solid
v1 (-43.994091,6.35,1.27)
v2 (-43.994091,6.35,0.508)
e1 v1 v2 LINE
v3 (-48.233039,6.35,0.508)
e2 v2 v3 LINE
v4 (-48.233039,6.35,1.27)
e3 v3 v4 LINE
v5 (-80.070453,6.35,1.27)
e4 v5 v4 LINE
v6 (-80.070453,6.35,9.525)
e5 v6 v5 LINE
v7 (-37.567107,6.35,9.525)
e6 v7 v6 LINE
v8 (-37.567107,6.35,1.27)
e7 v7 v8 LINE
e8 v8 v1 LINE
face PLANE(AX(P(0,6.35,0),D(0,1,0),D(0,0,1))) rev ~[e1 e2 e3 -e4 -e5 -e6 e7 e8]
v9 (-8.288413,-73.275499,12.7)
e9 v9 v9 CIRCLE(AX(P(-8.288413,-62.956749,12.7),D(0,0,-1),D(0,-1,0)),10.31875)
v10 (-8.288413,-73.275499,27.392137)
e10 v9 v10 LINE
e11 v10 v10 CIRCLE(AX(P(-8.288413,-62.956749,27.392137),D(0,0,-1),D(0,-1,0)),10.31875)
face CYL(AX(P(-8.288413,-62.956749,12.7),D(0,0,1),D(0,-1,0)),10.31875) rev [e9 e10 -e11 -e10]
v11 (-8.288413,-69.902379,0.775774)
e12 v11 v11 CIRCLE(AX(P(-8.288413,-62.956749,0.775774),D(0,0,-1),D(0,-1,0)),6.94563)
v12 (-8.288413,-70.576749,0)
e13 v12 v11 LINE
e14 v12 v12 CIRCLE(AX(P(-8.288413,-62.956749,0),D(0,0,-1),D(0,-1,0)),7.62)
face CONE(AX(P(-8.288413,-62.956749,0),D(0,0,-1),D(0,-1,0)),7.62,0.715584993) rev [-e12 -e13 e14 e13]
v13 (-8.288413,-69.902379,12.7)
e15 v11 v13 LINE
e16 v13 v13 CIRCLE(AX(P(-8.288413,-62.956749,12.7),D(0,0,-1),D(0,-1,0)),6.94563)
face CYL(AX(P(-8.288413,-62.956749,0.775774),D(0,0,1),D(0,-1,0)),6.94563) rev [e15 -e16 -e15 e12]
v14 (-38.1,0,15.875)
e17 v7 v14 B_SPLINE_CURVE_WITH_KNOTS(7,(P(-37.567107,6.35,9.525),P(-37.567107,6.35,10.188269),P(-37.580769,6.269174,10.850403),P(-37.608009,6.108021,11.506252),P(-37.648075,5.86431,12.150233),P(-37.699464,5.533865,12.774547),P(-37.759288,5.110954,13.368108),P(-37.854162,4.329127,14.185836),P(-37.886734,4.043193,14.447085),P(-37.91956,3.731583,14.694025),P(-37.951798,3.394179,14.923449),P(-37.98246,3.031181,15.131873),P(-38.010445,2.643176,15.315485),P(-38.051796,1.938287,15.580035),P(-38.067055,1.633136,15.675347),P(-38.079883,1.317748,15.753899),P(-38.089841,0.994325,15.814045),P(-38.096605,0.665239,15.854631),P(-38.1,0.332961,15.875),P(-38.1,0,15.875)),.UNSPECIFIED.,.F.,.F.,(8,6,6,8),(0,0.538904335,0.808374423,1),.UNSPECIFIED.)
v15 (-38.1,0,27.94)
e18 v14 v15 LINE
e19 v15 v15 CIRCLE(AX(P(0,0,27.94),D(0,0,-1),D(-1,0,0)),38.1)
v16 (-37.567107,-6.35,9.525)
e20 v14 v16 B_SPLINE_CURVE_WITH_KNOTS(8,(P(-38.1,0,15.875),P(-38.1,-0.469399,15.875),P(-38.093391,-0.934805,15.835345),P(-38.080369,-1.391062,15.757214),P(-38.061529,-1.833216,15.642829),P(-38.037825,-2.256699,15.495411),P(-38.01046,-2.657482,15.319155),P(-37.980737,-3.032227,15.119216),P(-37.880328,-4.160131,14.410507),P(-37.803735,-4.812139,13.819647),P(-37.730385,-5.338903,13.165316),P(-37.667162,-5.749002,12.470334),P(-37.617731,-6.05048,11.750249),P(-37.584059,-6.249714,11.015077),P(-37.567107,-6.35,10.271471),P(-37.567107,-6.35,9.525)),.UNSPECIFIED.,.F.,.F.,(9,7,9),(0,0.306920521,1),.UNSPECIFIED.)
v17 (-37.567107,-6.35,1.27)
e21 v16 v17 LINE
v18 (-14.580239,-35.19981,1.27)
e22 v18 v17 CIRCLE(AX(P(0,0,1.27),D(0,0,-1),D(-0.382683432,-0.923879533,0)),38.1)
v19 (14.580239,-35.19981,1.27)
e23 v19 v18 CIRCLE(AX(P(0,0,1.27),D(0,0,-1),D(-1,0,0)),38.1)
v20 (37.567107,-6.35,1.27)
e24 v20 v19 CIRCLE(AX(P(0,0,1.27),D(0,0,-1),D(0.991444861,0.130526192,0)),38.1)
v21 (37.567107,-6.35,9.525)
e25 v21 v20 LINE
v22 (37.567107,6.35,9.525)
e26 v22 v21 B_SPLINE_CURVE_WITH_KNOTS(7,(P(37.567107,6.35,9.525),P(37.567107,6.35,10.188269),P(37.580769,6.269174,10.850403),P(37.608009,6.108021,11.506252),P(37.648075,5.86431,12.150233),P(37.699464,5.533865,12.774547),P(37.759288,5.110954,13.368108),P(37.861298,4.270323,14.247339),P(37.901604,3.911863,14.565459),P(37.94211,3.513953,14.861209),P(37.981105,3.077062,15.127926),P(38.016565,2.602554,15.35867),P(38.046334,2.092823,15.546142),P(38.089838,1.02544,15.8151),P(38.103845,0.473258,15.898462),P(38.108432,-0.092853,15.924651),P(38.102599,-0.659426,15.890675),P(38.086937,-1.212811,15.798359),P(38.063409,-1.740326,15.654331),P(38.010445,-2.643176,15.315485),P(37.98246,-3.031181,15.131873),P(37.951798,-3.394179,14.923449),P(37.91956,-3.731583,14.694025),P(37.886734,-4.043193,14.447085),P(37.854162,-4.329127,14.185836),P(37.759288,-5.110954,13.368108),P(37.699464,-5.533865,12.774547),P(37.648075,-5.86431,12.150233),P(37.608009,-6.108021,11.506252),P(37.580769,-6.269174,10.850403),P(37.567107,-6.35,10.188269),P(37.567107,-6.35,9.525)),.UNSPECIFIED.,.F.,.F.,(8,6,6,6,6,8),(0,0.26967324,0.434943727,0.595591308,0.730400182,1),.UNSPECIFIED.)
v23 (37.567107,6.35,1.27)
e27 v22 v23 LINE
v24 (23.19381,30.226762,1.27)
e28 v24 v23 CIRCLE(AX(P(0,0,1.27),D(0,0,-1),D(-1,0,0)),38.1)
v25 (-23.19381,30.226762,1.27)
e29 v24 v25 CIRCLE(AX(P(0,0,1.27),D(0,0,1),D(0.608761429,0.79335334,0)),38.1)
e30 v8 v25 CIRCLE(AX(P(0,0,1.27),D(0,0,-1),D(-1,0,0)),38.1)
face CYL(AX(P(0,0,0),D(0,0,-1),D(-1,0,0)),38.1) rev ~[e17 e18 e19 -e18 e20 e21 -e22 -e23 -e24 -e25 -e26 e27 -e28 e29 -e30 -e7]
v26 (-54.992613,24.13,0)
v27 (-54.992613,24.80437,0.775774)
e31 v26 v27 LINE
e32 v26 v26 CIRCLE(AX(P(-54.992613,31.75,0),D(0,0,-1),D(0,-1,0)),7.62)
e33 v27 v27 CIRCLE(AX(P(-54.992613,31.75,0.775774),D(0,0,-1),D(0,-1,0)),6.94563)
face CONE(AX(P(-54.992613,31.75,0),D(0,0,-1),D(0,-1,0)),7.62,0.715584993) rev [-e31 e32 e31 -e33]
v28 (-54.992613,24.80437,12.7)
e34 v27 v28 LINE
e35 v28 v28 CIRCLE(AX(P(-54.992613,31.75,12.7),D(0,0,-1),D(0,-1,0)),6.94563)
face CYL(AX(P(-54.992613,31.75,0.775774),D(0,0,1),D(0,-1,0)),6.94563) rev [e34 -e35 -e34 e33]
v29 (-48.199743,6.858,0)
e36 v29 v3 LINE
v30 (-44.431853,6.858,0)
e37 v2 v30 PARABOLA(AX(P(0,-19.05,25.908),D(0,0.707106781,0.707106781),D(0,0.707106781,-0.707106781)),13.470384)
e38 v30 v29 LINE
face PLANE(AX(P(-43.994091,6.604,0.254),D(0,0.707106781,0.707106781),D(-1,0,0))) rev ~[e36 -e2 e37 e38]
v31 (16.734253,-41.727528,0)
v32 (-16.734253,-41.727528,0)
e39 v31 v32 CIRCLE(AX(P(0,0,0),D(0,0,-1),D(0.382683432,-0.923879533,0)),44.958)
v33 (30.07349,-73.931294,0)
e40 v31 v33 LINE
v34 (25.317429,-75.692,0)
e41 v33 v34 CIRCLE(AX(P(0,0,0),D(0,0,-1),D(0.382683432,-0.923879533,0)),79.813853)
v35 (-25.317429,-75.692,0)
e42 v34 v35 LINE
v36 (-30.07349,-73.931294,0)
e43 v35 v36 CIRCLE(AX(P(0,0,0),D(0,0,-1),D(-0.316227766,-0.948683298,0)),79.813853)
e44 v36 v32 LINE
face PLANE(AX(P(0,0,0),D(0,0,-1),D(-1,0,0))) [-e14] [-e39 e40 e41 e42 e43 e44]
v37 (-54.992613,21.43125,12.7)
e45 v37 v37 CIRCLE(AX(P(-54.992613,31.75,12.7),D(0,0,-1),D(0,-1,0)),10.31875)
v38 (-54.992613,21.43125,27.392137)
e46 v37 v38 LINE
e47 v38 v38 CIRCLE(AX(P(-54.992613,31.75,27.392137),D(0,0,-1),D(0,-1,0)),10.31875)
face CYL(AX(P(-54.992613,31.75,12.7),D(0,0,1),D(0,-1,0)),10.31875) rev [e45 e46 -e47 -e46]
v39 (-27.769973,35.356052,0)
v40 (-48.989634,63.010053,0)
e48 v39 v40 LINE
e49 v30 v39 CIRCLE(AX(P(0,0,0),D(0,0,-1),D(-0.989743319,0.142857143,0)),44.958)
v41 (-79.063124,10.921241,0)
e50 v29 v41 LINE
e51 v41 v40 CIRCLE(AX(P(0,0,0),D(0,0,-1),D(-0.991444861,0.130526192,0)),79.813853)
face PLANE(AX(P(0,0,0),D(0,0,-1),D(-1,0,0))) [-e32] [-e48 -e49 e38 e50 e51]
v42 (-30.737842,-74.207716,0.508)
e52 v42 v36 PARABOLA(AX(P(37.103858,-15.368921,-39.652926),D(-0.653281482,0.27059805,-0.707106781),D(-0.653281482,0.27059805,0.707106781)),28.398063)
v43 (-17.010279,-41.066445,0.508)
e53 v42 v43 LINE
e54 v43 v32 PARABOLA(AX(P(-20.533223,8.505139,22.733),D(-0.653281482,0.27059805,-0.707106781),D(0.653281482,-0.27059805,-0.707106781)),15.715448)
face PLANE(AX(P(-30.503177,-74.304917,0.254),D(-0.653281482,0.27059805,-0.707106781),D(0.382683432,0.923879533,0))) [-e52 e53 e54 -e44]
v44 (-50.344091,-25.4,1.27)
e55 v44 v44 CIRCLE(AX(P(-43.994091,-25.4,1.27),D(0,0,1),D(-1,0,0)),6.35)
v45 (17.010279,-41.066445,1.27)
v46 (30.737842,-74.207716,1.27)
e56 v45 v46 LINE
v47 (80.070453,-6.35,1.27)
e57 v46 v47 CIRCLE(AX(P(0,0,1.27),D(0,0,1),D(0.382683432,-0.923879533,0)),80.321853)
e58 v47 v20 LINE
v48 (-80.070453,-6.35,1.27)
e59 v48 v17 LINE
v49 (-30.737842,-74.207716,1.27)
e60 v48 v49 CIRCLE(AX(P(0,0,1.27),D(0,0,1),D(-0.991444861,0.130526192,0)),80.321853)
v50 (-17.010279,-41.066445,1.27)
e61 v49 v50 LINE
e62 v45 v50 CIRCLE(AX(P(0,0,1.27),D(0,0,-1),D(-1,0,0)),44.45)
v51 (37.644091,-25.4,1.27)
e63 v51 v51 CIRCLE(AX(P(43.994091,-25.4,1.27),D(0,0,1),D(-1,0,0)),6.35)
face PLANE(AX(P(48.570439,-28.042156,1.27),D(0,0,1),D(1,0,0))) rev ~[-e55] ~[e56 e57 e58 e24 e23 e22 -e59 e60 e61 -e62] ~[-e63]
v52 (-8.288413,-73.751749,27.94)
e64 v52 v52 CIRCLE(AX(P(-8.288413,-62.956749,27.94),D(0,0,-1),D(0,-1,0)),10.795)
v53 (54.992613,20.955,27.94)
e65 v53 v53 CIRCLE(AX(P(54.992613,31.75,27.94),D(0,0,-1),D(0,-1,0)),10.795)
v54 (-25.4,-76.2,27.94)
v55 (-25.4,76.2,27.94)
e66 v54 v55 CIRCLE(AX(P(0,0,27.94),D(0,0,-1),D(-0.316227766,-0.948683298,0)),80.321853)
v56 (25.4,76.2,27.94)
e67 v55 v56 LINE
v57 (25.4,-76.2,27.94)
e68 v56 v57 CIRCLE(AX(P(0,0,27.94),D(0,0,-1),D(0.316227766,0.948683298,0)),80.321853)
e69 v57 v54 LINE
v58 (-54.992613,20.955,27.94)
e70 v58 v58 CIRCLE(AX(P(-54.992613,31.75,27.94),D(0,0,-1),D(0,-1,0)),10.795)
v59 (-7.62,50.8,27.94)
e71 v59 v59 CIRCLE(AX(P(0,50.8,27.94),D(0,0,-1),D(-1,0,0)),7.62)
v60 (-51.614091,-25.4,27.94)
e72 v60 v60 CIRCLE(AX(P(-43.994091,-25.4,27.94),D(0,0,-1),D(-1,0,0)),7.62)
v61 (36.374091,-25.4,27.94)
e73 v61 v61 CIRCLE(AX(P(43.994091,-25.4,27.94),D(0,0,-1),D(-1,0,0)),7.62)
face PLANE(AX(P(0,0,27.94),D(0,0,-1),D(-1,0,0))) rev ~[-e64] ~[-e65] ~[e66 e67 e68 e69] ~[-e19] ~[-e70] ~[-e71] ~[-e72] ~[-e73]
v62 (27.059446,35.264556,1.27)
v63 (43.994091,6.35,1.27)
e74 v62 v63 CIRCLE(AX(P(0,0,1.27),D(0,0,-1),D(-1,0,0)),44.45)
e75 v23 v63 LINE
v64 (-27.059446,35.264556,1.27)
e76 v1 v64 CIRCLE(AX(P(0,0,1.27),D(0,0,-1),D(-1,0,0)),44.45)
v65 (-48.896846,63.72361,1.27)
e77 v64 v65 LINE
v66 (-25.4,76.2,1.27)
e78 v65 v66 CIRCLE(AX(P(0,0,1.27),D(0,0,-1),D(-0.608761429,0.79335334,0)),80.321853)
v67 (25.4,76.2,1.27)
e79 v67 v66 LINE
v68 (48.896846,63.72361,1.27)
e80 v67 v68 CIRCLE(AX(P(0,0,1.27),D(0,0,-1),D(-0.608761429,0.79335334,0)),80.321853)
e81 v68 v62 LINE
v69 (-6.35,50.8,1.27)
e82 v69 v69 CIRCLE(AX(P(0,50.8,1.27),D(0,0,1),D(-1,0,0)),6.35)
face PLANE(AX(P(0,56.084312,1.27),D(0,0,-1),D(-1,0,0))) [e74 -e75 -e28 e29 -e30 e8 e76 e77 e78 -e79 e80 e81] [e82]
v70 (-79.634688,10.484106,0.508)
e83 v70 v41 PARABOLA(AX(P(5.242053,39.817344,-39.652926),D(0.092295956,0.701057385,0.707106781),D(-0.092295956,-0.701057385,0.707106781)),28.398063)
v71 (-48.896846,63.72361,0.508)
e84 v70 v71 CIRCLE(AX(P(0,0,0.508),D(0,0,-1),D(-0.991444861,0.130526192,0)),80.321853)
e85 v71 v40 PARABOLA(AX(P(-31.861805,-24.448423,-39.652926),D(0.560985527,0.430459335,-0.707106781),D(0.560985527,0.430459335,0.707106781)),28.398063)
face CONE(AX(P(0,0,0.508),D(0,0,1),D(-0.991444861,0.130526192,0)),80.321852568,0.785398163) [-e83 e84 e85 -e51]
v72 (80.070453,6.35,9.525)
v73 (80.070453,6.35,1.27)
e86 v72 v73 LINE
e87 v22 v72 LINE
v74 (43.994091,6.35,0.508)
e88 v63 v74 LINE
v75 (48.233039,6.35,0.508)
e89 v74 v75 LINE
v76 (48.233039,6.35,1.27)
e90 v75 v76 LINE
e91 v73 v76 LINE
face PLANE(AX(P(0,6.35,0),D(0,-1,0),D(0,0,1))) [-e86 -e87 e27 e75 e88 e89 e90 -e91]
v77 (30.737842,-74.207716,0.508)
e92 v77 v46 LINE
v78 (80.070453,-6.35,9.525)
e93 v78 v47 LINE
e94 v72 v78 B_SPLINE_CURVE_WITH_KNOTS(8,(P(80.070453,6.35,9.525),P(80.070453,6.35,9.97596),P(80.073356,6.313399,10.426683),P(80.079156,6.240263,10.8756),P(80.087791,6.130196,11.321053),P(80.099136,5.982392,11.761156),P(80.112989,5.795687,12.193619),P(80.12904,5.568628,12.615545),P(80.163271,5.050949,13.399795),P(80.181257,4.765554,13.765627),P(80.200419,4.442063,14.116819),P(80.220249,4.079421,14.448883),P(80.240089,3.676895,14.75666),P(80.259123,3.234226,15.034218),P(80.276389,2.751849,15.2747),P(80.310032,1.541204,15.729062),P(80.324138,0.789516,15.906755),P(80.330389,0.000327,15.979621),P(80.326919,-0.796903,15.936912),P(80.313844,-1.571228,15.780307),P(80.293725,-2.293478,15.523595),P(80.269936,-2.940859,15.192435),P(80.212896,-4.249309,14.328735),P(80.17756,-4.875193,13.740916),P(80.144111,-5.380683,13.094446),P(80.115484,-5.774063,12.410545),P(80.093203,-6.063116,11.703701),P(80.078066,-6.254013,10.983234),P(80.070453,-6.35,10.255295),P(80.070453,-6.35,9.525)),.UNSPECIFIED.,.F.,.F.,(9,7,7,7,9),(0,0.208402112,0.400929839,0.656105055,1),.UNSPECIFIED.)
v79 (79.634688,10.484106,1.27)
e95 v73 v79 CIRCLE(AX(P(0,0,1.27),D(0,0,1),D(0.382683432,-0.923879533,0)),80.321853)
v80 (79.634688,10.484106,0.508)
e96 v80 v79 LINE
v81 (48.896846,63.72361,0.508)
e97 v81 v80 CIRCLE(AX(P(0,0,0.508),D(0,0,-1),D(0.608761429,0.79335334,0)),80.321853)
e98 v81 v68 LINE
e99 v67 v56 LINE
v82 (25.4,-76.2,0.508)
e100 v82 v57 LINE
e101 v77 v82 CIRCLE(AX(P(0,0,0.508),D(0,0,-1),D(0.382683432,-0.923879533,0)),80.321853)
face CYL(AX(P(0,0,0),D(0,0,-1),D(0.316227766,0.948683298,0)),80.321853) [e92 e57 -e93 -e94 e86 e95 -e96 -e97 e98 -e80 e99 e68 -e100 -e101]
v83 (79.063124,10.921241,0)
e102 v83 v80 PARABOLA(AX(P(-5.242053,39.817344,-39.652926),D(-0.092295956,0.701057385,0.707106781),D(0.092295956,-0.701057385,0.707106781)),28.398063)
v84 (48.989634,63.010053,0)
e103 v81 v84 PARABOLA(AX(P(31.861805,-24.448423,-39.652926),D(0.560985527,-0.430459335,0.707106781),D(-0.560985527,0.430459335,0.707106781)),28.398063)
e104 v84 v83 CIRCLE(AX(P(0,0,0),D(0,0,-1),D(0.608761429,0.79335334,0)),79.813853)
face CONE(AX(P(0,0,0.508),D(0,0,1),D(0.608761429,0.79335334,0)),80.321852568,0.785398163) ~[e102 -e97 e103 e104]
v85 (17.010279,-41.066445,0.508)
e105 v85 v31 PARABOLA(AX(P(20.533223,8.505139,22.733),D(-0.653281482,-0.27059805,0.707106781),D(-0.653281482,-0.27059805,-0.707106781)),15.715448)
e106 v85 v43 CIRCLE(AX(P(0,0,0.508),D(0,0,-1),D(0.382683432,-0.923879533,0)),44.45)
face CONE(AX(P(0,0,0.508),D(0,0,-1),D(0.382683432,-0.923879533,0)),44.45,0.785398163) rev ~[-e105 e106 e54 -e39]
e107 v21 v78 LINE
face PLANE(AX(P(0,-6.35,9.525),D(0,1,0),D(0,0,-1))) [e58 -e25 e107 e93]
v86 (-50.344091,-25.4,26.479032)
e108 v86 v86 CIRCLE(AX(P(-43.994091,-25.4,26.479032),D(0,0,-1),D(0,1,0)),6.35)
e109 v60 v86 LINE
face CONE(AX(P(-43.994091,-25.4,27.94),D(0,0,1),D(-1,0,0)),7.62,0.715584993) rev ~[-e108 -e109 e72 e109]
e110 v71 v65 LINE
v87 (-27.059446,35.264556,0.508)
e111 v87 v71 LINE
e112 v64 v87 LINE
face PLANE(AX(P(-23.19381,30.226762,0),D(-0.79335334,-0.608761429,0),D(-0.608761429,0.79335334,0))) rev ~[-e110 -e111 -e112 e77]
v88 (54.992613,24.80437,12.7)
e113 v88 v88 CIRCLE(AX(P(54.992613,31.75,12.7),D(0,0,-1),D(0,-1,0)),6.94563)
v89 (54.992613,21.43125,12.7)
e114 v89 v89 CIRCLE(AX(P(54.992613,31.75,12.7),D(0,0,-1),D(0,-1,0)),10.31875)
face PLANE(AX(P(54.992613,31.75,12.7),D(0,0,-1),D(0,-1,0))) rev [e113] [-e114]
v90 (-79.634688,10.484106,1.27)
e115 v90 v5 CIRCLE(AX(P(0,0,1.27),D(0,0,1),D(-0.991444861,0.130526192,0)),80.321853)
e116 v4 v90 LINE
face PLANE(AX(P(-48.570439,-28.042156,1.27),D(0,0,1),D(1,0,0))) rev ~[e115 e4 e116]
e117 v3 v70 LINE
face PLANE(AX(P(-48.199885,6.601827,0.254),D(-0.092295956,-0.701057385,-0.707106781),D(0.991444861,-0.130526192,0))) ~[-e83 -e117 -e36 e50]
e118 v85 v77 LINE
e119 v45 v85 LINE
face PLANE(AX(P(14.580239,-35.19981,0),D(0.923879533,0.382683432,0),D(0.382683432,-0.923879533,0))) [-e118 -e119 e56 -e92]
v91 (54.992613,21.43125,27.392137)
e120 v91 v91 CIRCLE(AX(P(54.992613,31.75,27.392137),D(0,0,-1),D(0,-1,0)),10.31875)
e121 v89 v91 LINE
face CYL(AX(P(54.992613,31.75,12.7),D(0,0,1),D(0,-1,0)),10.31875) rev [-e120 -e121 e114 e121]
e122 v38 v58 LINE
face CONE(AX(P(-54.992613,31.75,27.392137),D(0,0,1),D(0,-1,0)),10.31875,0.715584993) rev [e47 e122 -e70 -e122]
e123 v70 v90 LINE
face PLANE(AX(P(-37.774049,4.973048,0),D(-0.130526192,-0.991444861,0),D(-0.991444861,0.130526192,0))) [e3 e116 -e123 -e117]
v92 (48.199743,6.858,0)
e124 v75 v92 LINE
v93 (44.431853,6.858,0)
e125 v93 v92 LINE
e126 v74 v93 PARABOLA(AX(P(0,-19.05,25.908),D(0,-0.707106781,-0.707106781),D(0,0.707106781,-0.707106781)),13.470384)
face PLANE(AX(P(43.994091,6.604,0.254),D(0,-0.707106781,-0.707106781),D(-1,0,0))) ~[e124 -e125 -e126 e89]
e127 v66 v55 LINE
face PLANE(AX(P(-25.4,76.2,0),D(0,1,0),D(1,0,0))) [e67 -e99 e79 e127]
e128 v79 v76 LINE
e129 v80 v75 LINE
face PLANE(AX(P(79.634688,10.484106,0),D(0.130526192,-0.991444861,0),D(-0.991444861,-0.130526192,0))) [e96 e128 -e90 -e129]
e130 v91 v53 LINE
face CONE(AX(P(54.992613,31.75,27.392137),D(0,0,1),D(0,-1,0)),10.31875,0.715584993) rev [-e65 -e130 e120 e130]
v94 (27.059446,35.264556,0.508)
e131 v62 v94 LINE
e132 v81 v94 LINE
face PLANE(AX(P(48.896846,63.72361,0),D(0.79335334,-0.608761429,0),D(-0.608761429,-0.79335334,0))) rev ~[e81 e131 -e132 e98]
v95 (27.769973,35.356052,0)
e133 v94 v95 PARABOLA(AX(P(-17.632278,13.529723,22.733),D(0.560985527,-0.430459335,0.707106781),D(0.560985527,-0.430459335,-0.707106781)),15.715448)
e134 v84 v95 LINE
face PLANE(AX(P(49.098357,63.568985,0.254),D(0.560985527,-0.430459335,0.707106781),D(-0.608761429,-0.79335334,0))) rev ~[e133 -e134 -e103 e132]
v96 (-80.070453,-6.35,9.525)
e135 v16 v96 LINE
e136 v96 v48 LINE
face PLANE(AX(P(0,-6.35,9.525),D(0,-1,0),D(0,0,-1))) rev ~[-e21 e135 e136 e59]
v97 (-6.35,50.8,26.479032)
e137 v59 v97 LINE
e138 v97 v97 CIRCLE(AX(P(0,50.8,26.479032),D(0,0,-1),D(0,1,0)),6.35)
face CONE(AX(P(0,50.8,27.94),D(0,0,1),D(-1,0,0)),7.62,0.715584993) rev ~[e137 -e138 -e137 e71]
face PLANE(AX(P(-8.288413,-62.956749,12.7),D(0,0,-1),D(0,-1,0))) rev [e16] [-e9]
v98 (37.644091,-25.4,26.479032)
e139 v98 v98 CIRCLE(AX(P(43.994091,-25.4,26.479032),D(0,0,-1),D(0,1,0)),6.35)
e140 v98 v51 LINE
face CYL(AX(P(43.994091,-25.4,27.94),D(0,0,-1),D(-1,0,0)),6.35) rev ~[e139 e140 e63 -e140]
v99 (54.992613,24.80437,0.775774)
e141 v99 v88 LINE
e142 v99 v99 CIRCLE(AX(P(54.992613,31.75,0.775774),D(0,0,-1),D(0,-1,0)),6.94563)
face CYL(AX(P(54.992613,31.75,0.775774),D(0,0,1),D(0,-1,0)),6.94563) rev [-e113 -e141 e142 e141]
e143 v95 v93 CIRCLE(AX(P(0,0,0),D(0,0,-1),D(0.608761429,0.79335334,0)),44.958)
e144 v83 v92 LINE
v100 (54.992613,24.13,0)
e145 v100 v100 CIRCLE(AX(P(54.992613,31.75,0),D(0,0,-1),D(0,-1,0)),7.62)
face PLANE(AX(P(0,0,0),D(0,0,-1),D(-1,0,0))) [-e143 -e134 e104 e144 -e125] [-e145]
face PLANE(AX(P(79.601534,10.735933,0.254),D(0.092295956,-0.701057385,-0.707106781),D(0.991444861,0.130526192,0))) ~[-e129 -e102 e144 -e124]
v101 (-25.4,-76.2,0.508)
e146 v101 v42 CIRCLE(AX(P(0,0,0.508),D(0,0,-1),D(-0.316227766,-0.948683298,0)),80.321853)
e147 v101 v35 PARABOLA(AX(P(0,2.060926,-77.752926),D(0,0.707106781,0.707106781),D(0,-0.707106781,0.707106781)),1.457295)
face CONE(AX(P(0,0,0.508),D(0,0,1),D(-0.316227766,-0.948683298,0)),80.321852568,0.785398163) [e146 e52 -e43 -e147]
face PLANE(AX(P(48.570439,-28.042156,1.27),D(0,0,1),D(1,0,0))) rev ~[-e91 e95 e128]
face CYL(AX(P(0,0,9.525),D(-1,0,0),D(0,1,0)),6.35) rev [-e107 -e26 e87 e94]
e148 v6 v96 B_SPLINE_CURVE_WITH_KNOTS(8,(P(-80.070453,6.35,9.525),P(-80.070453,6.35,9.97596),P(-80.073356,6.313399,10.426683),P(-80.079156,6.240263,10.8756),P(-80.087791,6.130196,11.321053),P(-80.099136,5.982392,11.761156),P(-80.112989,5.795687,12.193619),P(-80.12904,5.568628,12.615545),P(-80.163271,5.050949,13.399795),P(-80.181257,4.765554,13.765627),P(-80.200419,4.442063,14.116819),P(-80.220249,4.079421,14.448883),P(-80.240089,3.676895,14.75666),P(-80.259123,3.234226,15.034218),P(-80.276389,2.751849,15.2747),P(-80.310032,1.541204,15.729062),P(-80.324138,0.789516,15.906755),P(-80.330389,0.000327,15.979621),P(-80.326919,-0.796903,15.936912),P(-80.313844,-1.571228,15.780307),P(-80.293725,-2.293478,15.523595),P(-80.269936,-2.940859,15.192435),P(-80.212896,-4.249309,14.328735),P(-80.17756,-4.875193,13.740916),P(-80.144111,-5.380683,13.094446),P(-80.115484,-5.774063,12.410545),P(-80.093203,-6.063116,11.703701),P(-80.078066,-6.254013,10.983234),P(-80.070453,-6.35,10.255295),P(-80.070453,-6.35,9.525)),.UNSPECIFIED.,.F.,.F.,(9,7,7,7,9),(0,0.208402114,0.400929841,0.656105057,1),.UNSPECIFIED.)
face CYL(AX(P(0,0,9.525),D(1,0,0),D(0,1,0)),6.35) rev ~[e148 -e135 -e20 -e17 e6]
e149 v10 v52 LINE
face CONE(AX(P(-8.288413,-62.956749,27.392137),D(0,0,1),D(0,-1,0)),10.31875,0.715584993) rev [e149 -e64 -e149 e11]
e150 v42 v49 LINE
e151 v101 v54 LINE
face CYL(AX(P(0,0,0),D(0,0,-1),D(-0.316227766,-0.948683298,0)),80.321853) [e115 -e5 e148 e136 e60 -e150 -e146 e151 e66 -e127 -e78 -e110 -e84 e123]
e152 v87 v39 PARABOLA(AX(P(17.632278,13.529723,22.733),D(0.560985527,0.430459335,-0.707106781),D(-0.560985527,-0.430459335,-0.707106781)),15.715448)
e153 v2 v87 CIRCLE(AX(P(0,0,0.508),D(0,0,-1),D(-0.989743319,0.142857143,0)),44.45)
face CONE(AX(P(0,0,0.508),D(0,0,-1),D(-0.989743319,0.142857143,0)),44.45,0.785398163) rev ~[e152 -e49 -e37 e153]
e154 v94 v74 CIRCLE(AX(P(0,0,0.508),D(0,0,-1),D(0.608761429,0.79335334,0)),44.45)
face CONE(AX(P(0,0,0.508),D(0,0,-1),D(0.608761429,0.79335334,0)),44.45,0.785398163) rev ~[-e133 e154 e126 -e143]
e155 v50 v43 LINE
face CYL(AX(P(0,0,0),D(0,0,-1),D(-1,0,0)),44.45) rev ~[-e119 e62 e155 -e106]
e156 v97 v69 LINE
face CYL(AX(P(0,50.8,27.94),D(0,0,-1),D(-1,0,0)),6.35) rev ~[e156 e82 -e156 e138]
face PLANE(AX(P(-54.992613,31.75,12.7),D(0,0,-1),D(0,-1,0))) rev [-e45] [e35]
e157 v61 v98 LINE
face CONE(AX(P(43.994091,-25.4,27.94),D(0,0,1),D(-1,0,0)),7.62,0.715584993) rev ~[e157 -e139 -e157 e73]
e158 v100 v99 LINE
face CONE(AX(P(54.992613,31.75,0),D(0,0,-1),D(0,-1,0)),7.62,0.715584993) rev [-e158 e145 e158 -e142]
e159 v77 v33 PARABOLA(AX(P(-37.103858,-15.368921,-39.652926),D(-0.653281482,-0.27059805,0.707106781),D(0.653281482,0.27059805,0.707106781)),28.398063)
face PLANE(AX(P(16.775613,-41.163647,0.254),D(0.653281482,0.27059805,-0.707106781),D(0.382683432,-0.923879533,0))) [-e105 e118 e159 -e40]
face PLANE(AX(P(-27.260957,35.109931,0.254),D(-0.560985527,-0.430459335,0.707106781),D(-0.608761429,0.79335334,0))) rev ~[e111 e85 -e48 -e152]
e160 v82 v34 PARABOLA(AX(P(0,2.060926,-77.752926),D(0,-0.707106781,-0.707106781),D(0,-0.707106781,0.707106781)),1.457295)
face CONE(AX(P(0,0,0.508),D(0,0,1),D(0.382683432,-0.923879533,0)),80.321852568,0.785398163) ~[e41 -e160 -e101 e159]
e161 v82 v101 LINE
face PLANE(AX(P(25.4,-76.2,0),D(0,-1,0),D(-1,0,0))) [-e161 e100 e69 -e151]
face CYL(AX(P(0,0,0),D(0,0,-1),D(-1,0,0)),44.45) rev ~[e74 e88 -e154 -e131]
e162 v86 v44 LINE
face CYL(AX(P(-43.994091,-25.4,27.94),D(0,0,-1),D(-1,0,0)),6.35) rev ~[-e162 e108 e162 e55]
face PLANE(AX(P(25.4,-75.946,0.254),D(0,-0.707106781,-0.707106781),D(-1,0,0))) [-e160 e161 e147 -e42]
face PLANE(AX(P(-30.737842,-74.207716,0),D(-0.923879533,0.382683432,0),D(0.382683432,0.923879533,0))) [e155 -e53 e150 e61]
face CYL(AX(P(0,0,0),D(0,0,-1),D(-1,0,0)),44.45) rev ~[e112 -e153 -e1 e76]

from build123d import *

# Parameters (mm, degrees)
EXTRUDE1_DEPTH                                = 27.94
CBORE_FOR_1_2_SOCKET_HEAD_CAP_SCREW1_AT_COUNT = 2
CBORE_FOR_1_2_SOCKET_HEAD_CAP_SCREW1_AT_PITCH = 109.985226281
CBORE_FOR_1_2_SOCKET_HEAD_CAP_SCREW1_2_COUNT  = 2
CBORE_FOR_1_2_SOCKET_HEAD_CAP_SCREW1_2_PITCH  = 105.596640762
SKETCH6_R                                     = 38.1
CUT_EXTRUDE1_DEPTH                            = 28.94
CUT_EXTRUDE3_DEPTH                            = 81.321852568
CUT_EXTRUDE3_DEPTH_BACK                       = 81.321852568
CUT_EXTRUDE2_DEPTH                            = 1.27
F_1_2_20_TAPPED_HOLE1_D                       = 12.7
F_1_2_20_TAPPED_HOLE1_CSINK_D                 = 15.24
F_1_2_20_TAPPED_HOLE1_CSINK_ANGLE             = 82
SKETCH11_R                                    = 44.45
CUT_EXTRUDE4_DEPTH                            = 1.27
CHAMFER1_SIZE                                 = 0.508


with BuildPart() as part:
    # Sketch1 → Extrude1 (new body)
    with BuildSketch(Plane.XY):
        with BuildLine():
            Line((-25.4, 76.2), (25.4, 76.2))
            ThreePointArc((25.4, 76.2), (80.321852568, 0), (25.4, -76.2))
            Line((25.4, -76.2), (-25.4, -76.2))
            ThreePointArc((-25.4, -76.2), (-80.321852568, 0), (-25.4, 76.2))
        make_face()
    extrude(amount=EXTRUDE1_DEPTH)

    # Sketch3 → CBORE for 1_2 Socket Head Cap Screw1 (revolve, cut)
    with BuildSketch(Plane(origin=(-54.99261314, 31.75, 27.94), x_dir=(0, -1, 0), z_dir=(1, 0, 0))):
        Polygon((0, 0), (0, 27.94), (7.62, 27.94), (6.94563, 27.164226057), (6.94563, 15.24), (10.31875, 15.24), (10.31875, 0.547862954), (10.795, 0), align=None)
    cbore_for_1_2_socket_head_cap_screw1 = revolve(axis=Axis((-54.99261314, 31.75, 34.29), (0, 0, -1)), mode=Mode.SUBTRACT)

    # CBORE for 1_2 Socket Head Cap Screw1 at: CBORE for 1_2 Socket Head Cap Screw1 ×2
    with Locations(*[(i * CBORE_FOR_1_2_SOCKET_HEAD_CAP_SCREW1_AT_PITCH, 0, 0) for i in range(1, CBORE_FOR_1_2_SOCKET_HEAD_CAP_SCREW1_AT_COUNT)]):
        add(cbore_for_1_2_socket_head_cap_screw1, mode=Mode.SUBTRACT)

    # CBORE for 1_2 Socket Head Cap Screw1 2: CBORE for 1_2 Socket Head Cap Screw1 ×2
    with Locations(*[Vector(0.44228869, -0.896872742, 0) * (i * CBORE_FOR_1_2_SOCKET_HEAD_CAP_SCREW1_2_PITCH) for i in range(1, CBORE_FOR_1_2_SOCKET_HEAD_CAP_SCREW1_2_COUNT)]):
        add(cbore_for_1_2_socket_head_cap_screw1, mode=Mode.SUBTRACT)

    # Sketch6 → Cut-Extrude1 (cut, through all)
    with BuildSketch(Plane(origin=(0, 0, 0), x_dir=(-1, 0, 0), z_dir=(0, 0, -1))):
        Circle(SKETCH6_R)
    extrude(amount=-CUT_EXTRUDE1_DEPTH, mode=Mode.SUBTRACT)

    # Sketch10 → Cut-Extrude3 (cut, two sides)
    with BuildSketch(Plane(origin=(0, 0, 0), x_dir=(0, 0, -1), z_dir=(1, 0, 0))) as cut_extrude3_sk:
        with BuildLine():
            Line((0, 6.35), (-9.525, 6.35))
            ThreePointArc((-9.525, 6.35), (-15.875, 0), (-9.525, -6.35))
            Line((-9.525, -6.35), (0, -6.35))
            Line((0, -6.35), (0, 6.35))
        make_face()
    extrude(amount=CUT_EXTRUDE3_DEPTH, mode=Mode.SUBTRACT)
    extrude(cut_extrude3_sk.sketch, amount=-CUT_EXTRUDE3_DEPTH_BACK, mode=Mode.SUBTRACT)

    # Sketch9 → Cut-Extrude2 (cut)
    with BuildSketch(Plane(origin=(0, 0, 0), x_dir=(-1, 0, 0), z_dir=(0, 0, -1))):
        with BuildLine():
            Line((-79.634687985, 10.484105568), (-37.774049218, 4.973047924))
            ThreePointArc((-37.774049218, 4.973047924), (-32.995567884, -19.05), (-14.580238773, -35.199810189))
            Line((-14.580238773, -35.199810189), (-30.737842235, -74.207715601))
            ThreePointArc((-30.737842235, -74.207715601), (-69.560764803, -40.160926284), (-79.634687985, 10.484105568))
        make_face()
        with BuildLine():
            Line((-48.89684575, 63.723610033), (-23.193810445, 30.226762265))
            ThreePointArc((-23.193810445, 30.226762265), (0, 38.1), (23.193810445, 30.226762265))
            Line((23.193810445, 30.226762265), (48.89684575, 63.723610033))
            ThreePointArc((48.89684575, 63.723610033), (0, 80.321852568), (-48.89684575, 63.723610033))
        make_face()
        with BuildLine():
            Line((37.774049218, 4.973047924), (79.634687985, 10.484105568))
            ThreePointArc((79.634687985, 10.484105568), (69.560764803, -40.160926284), (30.737842235, -74.207715601))
            Line((30.737842235, -74.207715601), (14.580238773, -35.199810189))
            ThreePointArc((14.580238773, -35.199810189), (32.995567884, -19.05), (37.774049218, 4.973047924))
        make_face()
    extrude(amount=-CUT_EXTRUDE2_DEPTH, mode=Mode.SUBTRACT)

    # 1_2-20 Tapped Hole1 (through all)
    with Locations(Plane.XY.offset(27.94)):
        with Locations((0, 50.8), (-43.994090512, -25.4), (43.994090512, -25.4)):
            CounterSinkHole(F_1_2_20_TAPPED_HOLE1_D / 2, F_1_2_20_TAPPED_HOLE1_CSINK_D / 2, counter_sink_angle=F_1_2_20_TAPPED_HOLE1_CSINK_ANGLE)

    # Sketch11 → Cut-Extrude4 (cut)
    with BuildSketch(Plane(origin=(0, 0, 0), x_dir=(-1, 0, 0), z_dir=(0, 0, -1))):
        Circle(SKETCH11_R)
    extrude(amount=-CUT_EXTRUDE4_DEPTH, mode=Mode.SUBTRACT)

    # Chamfer1
    chamfer1_edges = [part.edges().sort_by_distance(p)[0] for p in [
        (-28.086591676, -75.251201771, 0),
        (-69.560764803, 40.160926284, 0),
        (0, -76.2, 0),
        (-37.978145635, 49.494083005, 0),
        (-38.355757488, 22.464157396, 0),
        (-46.113564564, 6.35, 0),
        (-63.9338633, 8.417052784, 0),
        (46.113564564, 6.35, 0),
        (38.355757488, 22.464157396, 0),
        (37.978145635, 49.494083005, 0),
        (63.9338633, 8.417052784, 0),
        (69.560764803, 40.160926284, 0),
        (0, -44.45, 0),
        (23.874060402, -57.637080411, 0),
        (-23.874060402, -57.637080411, 0),
        (28.086591676, -75.251201771, 0),
    ]]
    chamfer(chamfer1_edges, length=CHAMFER1_SIZE)


solid = part.part
